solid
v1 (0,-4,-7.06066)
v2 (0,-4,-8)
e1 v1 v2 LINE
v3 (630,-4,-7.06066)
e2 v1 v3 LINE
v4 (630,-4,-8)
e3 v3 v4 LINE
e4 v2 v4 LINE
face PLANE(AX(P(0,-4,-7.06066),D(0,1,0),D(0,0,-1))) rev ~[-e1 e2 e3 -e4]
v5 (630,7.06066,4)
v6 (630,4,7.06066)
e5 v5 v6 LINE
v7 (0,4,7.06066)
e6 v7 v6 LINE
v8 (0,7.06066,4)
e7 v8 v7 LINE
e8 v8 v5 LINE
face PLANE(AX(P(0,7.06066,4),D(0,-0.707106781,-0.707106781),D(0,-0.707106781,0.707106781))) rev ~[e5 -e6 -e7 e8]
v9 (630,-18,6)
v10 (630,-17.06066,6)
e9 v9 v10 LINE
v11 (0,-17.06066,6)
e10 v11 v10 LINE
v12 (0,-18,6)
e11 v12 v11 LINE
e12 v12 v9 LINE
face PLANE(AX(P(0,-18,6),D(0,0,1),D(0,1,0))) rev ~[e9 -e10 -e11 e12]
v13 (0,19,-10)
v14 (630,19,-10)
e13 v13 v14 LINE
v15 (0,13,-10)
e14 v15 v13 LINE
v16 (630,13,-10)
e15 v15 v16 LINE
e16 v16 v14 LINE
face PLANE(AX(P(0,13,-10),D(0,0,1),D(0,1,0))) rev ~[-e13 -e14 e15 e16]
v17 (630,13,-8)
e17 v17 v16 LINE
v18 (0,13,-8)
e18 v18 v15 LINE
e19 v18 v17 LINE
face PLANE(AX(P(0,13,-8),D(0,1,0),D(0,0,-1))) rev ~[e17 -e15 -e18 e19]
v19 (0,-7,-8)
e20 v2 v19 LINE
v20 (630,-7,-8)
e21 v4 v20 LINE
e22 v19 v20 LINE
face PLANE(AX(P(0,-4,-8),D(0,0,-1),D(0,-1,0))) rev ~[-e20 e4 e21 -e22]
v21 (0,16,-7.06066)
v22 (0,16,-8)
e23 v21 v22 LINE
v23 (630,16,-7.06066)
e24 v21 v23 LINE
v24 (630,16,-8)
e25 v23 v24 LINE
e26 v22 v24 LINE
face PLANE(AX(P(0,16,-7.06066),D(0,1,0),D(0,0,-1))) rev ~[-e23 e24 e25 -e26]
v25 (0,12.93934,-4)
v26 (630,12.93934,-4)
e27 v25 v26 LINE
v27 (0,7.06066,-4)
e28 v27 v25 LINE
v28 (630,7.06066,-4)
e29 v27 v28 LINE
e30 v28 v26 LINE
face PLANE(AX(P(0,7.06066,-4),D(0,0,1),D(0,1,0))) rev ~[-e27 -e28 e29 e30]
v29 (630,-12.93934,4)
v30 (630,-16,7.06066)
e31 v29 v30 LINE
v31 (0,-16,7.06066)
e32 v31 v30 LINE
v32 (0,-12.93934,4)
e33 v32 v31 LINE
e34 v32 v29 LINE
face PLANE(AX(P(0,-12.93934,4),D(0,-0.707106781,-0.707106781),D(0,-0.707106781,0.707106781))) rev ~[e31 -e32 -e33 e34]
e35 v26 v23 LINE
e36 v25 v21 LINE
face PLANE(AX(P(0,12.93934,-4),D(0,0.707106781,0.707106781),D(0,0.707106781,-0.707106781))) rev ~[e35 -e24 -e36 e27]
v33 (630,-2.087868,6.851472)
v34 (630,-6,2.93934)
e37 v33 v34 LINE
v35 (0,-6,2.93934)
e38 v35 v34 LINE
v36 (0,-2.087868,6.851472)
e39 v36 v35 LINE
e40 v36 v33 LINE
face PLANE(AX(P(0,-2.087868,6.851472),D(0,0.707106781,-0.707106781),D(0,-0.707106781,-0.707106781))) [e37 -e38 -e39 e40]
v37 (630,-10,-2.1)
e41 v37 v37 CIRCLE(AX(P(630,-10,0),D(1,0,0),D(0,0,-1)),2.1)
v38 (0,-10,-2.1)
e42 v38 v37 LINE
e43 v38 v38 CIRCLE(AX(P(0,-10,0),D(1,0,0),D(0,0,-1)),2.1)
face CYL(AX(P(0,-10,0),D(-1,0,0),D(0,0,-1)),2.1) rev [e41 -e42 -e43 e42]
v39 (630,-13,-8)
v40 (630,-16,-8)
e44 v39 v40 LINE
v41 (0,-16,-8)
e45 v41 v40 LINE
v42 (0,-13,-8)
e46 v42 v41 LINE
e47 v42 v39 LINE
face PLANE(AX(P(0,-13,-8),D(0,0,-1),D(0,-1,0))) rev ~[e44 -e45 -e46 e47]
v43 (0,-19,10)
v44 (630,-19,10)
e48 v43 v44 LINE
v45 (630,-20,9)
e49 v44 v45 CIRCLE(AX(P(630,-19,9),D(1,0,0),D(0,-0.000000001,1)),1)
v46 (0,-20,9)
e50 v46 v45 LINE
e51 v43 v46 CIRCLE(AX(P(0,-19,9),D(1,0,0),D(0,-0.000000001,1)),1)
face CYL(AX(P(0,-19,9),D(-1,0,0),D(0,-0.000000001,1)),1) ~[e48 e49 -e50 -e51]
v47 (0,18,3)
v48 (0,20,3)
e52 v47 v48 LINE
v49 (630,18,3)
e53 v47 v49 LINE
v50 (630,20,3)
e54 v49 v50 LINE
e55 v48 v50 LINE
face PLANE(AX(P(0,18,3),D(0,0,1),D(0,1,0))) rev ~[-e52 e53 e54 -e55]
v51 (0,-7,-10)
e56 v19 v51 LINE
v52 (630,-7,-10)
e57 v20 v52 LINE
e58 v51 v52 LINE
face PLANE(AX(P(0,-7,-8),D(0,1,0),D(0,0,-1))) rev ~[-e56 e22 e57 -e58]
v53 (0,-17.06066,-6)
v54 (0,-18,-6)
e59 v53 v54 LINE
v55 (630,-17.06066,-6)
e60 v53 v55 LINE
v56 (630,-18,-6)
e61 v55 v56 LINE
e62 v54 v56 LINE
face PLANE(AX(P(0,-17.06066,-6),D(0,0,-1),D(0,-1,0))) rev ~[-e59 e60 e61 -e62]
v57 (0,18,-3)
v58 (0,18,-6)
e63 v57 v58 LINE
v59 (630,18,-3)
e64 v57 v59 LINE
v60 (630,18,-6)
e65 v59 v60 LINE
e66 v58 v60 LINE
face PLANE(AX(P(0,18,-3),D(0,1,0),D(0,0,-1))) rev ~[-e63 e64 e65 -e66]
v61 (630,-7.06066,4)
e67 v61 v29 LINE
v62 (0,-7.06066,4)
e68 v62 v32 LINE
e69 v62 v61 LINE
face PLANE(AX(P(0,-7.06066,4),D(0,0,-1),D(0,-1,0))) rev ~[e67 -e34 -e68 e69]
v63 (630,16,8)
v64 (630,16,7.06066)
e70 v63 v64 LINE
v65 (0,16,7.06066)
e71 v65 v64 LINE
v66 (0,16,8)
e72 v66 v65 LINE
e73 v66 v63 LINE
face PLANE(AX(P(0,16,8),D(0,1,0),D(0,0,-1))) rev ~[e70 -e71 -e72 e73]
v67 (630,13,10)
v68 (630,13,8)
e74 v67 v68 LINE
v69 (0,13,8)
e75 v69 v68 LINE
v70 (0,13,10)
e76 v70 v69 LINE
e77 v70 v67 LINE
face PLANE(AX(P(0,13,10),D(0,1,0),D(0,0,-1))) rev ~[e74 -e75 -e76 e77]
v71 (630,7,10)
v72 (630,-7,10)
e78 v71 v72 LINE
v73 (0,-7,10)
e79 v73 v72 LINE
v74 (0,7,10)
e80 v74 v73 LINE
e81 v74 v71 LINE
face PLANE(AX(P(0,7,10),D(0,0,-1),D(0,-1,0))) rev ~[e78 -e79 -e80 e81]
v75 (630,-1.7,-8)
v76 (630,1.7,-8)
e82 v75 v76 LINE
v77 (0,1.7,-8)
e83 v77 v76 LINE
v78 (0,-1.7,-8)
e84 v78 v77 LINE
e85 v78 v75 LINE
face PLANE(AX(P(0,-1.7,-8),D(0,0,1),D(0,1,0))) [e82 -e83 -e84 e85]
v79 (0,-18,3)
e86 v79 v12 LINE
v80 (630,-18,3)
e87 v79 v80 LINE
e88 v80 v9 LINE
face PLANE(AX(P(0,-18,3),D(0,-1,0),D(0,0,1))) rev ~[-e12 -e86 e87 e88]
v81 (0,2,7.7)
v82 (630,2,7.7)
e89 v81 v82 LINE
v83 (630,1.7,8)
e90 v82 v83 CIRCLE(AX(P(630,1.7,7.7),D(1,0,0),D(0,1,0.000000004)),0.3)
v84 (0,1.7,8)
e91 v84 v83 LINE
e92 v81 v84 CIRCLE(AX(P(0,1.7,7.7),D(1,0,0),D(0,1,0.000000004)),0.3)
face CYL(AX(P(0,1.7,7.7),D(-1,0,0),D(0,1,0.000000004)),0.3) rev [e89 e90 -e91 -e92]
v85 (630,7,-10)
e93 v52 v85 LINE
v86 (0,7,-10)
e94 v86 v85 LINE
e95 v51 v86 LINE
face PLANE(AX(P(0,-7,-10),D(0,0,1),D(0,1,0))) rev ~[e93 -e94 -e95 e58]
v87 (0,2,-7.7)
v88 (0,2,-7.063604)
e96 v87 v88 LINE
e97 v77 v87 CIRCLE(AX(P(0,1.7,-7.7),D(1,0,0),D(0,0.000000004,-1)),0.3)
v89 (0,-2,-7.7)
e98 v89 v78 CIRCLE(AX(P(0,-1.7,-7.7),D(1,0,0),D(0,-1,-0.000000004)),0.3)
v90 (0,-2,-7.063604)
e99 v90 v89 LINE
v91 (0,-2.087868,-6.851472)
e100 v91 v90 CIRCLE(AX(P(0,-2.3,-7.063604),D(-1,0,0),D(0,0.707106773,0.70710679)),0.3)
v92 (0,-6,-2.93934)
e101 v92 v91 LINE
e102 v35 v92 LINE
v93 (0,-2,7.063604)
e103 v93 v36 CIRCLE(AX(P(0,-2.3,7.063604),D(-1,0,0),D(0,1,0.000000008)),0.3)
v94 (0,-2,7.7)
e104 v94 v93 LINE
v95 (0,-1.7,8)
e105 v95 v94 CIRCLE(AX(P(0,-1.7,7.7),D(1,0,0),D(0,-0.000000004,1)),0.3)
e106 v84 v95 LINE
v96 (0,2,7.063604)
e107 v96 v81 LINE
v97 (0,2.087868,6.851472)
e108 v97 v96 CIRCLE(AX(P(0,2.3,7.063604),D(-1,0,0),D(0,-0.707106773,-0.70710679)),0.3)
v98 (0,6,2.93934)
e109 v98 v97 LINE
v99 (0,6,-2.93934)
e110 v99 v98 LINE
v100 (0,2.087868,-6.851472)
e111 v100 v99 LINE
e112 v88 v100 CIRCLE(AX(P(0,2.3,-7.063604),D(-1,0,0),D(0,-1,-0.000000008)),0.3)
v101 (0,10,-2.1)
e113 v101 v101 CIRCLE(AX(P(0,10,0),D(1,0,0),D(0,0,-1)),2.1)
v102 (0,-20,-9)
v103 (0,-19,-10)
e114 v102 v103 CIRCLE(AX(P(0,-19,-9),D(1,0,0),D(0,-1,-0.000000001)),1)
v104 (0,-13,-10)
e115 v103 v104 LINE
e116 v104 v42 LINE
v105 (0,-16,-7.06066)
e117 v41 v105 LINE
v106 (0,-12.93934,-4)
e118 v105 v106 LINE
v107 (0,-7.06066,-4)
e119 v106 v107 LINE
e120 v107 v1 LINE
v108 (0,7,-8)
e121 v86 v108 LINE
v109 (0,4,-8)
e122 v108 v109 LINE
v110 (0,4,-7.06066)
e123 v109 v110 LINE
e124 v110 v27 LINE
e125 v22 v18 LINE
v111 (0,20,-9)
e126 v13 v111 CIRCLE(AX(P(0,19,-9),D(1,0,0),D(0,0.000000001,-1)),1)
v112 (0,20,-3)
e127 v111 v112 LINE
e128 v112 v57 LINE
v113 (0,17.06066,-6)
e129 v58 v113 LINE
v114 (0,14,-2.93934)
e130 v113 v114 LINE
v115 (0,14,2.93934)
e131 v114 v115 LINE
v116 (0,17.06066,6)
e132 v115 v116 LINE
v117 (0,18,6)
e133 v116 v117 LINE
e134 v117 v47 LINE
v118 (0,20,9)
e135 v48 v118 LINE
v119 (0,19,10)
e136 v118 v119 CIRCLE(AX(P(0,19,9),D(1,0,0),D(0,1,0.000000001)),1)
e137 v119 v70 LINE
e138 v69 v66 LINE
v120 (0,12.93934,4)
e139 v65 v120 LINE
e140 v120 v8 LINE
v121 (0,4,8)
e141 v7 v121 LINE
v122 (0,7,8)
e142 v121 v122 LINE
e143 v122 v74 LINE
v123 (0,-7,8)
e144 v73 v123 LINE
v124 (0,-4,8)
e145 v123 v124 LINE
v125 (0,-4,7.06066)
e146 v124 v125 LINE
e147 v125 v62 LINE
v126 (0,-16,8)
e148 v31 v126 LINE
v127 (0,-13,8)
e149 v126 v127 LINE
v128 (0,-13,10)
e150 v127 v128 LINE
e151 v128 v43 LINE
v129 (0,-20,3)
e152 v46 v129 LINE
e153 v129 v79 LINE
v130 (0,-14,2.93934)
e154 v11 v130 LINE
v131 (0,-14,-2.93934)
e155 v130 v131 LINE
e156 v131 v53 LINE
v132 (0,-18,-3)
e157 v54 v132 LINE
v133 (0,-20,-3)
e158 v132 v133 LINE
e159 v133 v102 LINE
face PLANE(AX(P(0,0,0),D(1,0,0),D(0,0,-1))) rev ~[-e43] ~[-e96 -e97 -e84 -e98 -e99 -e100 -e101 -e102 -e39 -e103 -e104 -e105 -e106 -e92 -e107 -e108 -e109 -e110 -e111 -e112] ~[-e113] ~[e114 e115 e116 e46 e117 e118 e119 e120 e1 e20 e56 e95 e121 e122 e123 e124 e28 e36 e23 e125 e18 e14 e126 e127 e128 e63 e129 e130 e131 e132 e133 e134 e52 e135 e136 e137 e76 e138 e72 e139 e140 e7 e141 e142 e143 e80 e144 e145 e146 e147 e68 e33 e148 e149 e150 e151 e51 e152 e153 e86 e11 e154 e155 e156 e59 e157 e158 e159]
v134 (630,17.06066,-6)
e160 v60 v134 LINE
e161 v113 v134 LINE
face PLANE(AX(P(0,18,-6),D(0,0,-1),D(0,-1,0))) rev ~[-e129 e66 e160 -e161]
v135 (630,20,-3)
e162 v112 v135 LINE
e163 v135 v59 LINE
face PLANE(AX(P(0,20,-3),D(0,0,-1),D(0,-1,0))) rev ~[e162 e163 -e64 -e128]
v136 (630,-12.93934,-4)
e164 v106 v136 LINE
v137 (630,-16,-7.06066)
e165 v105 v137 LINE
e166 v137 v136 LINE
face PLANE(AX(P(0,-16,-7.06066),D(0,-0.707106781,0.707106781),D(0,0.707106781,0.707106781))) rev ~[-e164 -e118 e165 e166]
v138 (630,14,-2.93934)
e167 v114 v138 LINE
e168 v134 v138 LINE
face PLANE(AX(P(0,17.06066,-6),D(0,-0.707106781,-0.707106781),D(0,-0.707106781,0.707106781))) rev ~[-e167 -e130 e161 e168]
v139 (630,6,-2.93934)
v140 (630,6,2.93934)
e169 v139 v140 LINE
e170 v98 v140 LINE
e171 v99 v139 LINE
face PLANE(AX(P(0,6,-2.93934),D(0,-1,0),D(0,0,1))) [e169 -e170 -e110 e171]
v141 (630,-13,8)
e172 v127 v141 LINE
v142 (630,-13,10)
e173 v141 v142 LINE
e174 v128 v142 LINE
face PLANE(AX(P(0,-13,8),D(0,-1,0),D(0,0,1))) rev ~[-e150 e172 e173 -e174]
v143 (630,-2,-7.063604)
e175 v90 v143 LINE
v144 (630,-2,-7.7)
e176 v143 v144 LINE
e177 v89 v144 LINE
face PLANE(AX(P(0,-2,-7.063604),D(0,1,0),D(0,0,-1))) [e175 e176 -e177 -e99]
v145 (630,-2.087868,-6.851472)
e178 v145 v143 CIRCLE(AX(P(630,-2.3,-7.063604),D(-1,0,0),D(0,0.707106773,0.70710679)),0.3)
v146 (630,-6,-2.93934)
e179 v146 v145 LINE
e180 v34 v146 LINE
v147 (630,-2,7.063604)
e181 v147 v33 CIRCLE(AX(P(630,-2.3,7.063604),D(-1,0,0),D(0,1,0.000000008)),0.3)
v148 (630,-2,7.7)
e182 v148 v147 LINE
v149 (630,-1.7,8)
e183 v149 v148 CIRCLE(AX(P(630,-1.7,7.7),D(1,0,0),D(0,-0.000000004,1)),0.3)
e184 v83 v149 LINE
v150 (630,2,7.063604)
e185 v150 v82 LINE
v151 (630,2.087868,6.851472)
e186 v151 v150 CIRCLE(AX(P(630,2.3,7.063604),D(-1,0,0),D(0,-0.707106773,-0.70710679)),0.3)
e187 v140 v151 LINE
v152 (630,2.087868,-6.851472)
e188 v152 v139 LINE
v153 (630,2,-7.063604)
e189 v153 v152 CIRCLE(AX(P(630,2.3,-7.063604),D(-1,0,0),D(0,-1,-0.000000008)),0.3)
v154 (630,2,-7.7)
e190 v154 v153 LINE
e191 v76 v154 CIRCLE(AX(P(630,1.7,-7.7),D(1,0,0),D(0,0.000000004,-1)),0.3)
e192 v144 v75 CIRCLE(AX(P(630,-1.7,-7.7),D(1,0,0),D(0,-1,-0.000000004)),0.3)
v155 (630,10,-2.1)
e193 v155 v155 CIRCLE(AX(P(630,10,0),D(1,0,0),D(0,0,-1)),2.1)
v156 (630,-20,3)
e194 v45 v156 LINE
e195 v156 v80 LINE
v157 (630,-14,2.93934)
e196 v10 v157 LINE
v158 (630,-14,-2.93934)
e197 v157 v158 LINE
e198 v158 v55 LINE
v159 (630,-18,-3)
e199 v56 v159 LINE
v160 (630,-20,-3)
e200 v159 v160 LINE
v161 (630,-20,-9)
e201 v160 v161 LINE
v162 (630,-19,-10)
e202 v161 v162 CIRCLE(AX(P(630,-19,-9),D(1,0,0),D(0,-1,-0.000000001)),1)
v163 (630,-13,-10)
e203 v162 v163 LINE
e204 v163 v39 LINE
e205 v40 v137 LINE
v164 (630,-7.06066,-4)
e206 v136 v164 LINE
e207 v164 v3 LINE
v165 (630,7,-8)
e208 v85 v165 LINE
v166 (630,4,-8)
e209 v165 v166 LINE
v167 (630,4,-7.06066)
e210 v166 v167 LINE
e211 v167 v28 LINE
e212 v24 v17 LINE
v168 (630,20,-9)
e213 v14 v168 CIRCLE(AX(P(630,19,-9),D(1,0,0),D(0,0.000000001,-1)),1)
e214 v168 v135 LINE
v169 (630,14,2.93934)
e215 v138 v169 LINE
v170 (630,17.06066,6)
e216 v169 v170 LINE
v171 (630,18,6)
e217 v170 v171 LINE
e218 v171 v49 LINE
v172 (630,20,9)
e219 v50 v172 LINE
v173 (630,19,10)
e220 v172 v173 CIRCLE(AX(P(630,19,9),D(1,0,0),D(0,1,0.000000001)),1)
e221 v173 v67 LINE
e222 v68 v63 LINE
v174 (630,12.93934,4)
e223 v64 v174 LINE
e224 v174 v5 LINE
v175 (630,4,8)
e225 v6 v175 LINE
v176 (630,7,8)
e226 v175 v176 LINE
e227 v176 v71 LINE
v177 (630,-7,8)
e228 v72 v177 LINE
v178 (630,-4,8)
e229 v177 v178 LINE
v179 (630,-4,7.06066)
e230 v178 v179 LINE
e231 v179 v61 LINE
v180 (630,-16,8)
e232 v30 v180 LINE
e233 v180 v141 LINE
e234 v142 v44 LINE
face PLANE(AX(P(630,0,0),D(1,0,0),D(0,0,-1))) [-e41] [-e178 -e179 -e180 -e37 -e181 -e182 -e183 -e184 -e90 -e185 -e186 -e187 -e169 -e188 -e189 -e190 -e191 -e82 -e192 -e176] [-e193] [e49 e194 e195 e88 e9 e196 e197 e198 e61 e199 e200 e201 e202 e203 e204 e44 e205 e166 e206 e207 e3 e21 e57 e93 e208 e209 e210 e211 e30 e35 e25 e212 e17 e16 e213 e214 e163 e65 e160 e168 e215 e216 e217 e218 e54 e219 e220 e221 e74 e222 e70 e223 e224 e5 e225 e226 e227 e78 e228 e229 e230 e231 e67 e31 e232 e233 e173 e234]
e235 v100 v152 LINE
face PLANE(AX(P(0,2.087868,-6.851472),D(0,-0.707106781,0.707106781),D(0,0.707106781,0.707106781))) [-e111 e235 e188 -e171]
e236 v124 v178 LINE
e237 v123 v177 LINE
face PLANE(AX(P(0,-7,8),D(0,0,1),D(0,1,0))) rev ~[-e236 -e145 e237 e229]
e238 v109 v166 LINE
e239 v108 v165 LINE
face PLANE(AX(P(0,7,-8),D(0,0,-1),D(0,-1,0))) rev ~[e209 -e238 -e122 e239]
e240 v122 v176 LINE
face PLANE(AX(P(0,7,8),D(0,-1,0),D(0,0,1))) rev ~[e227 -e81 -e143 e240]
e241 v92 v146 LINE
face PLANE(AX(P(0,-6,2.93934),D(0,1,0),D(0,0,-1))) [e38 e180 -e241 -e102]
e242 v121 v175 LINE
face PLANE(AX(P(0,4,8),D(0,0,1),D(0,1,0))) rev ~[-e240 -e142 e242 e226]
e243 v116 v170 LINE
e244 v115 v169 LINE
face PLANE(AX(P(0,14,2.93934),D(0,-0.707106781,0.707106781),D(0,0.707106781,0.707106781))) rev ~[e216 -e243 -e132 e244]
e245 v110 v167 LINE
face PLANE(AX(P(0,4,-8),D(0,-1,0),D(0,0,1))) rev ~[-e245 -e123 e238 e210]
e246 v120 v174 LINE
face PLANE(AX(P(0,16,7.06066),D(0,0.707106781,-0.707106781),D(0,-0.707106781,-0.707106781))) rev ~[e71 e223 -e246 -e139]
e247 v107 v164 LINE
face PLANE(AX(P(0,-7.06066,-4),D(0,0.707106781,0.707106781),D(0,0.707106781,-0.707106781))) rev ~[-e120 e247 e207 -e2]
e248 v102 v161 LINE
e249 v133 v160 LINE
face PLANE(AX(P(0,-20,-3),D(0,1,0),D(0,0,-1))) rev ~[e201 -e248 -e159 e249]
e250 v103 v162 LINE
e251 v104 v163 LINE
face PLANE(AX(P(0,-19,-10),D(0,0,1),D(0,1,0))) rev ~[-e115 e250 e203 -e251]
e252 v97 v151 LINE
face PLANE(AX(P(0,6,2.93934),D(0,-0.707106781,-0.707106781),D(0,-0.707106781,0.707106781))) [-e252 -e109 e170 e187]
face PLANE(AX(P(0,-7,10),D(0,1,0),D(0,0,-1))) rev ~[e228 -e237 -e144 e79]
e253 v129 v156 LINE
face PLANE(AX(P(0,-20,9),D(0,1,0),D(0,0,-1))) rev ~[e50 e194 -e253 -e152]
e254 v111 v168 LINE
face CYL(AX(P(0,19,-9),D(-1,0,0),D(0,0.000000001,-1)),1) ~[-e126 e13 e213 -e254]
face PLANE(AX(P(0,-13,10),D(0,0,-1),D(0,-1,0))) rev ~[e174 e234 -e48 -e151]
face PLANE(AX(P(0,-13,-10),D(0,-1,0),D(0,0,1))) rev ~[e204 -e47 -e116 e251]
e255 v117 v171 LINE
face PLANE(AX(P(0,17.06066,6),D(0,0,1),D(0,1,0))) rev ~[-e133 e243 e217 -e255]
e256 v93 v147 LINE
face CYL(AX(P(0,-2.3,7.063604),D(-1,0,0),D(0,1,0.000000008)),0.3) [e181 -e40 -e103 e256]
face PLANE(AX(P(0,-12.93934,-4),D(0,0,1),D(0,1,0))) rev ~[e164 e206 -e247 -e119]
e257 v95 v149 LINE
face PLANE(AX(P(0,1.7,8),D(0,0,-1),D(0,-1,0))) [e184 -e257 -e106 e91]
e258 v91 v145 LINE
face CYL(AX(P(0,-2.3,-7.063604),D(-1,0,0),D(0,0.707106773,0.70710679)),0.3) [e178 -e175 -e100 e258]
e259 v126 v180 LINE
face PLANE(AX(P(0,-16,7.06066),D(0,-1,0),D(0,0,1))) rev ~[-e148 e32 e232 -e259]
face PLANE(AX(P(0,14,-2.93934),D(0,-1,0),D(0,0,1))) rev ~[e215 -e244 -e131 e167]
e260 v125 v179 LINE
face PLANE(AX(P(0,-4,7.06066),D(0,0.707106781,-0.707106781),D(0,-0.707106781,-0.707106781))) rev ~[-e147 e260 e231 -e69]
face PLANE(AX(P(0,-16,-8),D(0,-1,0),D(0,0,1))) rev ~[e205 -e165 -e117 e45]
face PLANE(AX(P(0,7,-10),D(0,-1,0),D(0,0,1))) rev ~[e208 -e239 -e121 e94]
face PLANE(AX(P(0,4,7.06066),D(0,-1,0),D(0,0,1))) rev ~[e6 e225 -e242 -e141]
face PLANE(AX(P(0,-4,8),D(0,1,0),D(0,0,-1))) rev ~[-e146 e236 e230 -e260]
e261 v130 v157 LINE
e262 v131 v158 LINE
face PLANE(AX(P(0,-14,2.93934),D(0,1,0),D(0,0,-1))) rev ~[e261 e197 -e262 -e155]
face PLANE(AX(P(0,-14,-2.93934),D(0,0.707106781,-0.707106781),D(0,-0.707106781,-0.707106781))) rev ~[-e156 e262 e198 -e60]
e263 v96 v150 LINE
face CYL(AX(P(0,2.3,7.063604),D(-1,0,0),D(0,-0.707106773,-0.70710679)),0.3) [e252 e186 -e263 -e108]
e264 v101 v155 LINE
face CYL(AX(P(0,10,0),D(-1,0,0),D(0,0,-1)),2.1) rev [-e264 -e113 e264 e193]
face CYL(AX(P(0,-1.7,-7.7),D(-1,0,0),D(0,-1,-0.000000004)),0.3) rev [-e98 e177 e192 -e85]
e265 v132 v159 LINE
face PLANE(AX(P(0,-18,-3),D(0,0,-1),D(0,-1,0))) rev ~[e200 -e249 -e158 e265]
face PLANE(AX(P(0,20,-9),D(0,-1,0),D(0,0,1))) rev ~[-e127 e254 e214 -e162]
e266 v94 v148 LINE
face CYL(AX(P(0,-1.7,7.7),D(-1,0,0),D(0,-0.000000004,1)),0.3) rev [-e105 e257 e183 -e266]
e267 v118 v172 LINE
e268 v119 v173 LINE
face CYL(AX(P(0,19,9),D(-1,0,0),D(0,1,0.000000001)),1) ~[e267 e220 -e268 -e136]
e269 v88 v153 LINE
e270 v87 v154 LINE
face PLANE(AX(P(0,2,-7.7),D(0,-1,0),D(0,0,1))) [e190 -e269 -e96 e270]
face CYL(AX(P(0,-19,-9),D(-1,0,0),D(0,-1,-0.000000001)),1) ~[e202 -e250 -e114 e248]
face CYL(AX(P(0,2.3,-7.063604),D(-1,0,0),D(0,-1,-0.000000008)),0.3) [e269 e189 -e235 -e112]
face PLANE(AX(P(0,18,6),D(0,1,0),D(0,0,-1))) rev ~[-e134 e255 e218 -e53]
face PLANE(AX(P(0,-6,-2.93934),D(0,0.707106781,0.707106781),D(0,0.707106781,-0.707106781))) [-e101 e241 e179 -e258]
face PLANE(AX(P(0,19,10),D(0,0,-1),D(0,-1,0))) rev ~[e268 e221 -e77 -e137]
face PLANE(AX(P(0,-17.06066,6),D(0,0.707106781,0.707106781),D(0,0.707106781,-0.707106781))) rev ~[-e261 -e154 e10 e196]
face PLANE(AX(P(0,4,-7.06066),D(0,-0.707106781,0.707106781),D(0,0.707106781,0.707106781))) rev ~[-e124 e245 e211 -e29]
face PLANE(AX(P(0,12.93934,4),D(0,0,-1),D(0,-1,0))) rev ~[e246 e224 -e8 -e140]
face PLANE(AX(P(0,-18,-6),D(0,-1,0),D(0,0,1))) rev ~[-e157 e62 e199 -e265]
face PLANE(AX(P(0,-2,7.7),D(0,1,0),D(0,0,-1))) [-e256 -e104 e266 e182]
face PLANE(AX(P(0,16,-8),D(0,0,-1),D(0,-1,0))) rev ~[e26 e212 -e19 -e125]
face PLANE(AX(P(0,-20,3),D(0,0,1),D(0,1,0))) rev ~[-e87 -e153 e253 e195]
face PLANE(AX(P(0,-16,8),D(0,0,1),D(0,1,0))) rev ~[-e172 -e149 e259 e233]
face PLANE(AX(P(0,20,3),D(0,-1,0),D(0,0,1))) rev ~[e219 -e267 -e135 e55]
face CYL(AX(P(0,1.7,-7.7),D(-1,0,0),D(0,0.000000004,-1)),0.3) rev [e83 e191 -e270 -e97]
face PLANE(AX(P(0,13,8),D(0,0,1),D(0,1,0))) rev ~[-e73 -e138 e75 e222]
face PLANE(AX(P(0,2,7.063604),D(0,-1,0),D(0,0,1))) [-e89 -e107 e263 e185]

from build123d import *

# Parameters (mm, degrees)
SKETCH1_R           = 2.1
BOSS_EXTRUDE1_DEPTH = 630


with BuildPart() as part:
    # Sketch1 → Boss-Extrude1 (new body)
    with BuildSketch(Plane(origin=(0, 0, 0), x_dir=(0, 0, -1), z_dir=(1, 0, 0))):
        with BuildLine():
            Line((-10, -13), (-10, -19))
            ThreePointArc((-10, -19), (-9.707106781, -19.707106781), (-9, -20))
            Line((-9, -20), (-3, -20))
            Line((-3, -20), (-3, -18))
            Line((-3, -18), (-6, -18))
            Line((-6, -18), (-6, -17.060660172))
            Line((-6, -17.060660172), (-2.939339828, -14))
            Line((-2.939339828, -14), (2.939339828, -14))
            Line((2.939339828, -14), (6, -17.060660172))
            Line((6, -17.060660172), (6, -18))
            Line((6, -18), (3, -18))
            Line((3, -18), (3, -20))
            Line((3, -20), (9, -20))
            ThreePointArc((9, -20), (9.707106781, -19.707106781), (10, -19))
            Line((10, -19), (10, -13))
            Line((10, -13), (8, -13))
            Line((8, -13), (8, -16))
            Line((8, -16), (7.060660172, -16))
            Line((7.060660172, -16), (4, -12.939339828))
            Line((4, -12.939339828), (4, -7.060660172))
            Line((4, -7.060660172), (7.060660172, -4))
            Line((7.060660172, -4), (8, -4))
            Line((8, -4), (8, -7))
            Line((8, -7), (10, -7))
            Line((10, -7), (10, 7))
            Line((10, 7), (8, 7))
            Line((8, 7), (8, 4))
            Line((8, 4), (7.060660172, 4))
            Line((7.060660172, 4), (4, 7.060660172))
            Line((4, 7.060660172), (4, 12.939339828))
            Line((4, 12.939339828), (7.060660172, 16))
            Line((7.060660172, 16), (8, 16))
            Line((8, 16), (8, 13))
            Line((8, 13), (10, 13))
            Line((10, 13), (10, 19))
            ThreePointArc((10, 19), (9.707106781, 19.707106781), (9, 20))
            Line((9, 20), (3, 20))
            Line((3, 20), (3, 18))
            Line((3, 18), (6, 18))
            Line((6, 18), (6, 17.060660172))
            Line((6, 17.060660172), (2.939339828, 14))
            Line((2.939339828, 14), (-2.939339828, 14))
            Line((-2.939339828, 14), (-6, 17.060660172))
            Line((-6, 17.060660172), (-6, 18))
            Line((-6, 18), (-3, 18))
            Line((-3, 18), (-3, 20))
            Line((-3, 20), (-9, 20))
            ThreePointArc((-9, 20), (-9.707106781, 19.707106781), (-10, 19))
            Line((-10, 19), (-10, 13))
            Line((-10, 13), (-8, 13))
            Line((-8, 13), (-8, 16))
            Line((-8, 16), (-7.060660172, 16))
            Line((-7.060660172, 16), (-4, 12.939339828))
            Line((-4, 12.939339828), (-4, 7.060660172))
            Line((-4, 7.060660172), (-7.060660172, 4))
            Line((-7.060660172, 4), (-8, 4))
            Line((-8, 4), (-8, 7))
            Line((-8, 7), (-10, 7))
            Line((-10, 7), (-10, -7))
            Line((-10, -7), (-8, -7))
            Line((-8, -7), (-8, -4))
            Line((-8, -4), (-7.060660172, -4))
            Line((-7.060660172, -4), (-4, -7.060660172))
            Line((-4, -7.060660172), (-4, -12.939339828))
            Line((-4, -12.939339828), (-7.060660172, -16))
            Line((-7.060660172, -16), (-8, -16))
            Line((-8, -16), (-8, -13))
            Line((-8, -13), (-10, -13))
        make_face()
        with Locations((0, 10)):
            Circle(SKETCH1_R, mode=Mode.SUBTRACT)
        with Locations((0, -10)):
            Circle(SKETCH1_R, mode=Mode.SUBTRACT)
        with BuildLine():
            Line((-8, 1.7), (-8, -1.7))
            ThreePointArc((-8, -1.7), (-7.912132034, -1.912132034), (-7.7, -2))
            Line((-7.7, -2), (-7.063603897, -2))
            ThreePointArc((-7.063603897, -2), (-6.948798867, -2.02283614), (-6.851471863, -2.087867966))
            Line((-6.851471863, -2.087867966), (-2.939339828, -6))
            Line((-2.939339828, -6), (2.939339828, -6))
            Line((2.939339828, -6), (6.851471863, -2.087867966))
            ThreePointArc((6.851471863, -2.087867966), (6.948798867, -2.02283614), (7.063603897, -2))
            Line((7.063603897, -2), (7.7, -2))
            ThreePointArc((7.7, -2), (7.912132034, -1.912132034), (8, -1.7))
            Line((8, -1.7), (8, 1.7))
            ThreePointArc((8, 1.7), (7.912132034, 1.912132034), (7.7, 2))
            Line((7.7, 2), (7.063603897, 2))
            ThreePointArc((7.063603897, 2), (6.948798867, 2.02283614), (6.851471863, 2.087867966))
            Line((6.851471863, 2.087867966), (2.939339828, 6))
            Line((2.939339828, 6), (-2.939339828, 6))
            Line((-2.939339828, 6), (-6.851471863, 2.087867966))
            ThreePointArc((-6.851471863, 2.087867966), (-6.948798867, 2.02283614), (-7.063603897, 2))
            Line((-7.063603897, 2), (-7.7, 2))
            ThreePointArc((-7.7, 2), (-7.912132034, 1.912132034), (-8, 1.7))
        make_face(mode=Mode.SUBTRACT)
    extrude(amount=BOSS_EXTRUDE1_DEPTH)


solid = part.part
